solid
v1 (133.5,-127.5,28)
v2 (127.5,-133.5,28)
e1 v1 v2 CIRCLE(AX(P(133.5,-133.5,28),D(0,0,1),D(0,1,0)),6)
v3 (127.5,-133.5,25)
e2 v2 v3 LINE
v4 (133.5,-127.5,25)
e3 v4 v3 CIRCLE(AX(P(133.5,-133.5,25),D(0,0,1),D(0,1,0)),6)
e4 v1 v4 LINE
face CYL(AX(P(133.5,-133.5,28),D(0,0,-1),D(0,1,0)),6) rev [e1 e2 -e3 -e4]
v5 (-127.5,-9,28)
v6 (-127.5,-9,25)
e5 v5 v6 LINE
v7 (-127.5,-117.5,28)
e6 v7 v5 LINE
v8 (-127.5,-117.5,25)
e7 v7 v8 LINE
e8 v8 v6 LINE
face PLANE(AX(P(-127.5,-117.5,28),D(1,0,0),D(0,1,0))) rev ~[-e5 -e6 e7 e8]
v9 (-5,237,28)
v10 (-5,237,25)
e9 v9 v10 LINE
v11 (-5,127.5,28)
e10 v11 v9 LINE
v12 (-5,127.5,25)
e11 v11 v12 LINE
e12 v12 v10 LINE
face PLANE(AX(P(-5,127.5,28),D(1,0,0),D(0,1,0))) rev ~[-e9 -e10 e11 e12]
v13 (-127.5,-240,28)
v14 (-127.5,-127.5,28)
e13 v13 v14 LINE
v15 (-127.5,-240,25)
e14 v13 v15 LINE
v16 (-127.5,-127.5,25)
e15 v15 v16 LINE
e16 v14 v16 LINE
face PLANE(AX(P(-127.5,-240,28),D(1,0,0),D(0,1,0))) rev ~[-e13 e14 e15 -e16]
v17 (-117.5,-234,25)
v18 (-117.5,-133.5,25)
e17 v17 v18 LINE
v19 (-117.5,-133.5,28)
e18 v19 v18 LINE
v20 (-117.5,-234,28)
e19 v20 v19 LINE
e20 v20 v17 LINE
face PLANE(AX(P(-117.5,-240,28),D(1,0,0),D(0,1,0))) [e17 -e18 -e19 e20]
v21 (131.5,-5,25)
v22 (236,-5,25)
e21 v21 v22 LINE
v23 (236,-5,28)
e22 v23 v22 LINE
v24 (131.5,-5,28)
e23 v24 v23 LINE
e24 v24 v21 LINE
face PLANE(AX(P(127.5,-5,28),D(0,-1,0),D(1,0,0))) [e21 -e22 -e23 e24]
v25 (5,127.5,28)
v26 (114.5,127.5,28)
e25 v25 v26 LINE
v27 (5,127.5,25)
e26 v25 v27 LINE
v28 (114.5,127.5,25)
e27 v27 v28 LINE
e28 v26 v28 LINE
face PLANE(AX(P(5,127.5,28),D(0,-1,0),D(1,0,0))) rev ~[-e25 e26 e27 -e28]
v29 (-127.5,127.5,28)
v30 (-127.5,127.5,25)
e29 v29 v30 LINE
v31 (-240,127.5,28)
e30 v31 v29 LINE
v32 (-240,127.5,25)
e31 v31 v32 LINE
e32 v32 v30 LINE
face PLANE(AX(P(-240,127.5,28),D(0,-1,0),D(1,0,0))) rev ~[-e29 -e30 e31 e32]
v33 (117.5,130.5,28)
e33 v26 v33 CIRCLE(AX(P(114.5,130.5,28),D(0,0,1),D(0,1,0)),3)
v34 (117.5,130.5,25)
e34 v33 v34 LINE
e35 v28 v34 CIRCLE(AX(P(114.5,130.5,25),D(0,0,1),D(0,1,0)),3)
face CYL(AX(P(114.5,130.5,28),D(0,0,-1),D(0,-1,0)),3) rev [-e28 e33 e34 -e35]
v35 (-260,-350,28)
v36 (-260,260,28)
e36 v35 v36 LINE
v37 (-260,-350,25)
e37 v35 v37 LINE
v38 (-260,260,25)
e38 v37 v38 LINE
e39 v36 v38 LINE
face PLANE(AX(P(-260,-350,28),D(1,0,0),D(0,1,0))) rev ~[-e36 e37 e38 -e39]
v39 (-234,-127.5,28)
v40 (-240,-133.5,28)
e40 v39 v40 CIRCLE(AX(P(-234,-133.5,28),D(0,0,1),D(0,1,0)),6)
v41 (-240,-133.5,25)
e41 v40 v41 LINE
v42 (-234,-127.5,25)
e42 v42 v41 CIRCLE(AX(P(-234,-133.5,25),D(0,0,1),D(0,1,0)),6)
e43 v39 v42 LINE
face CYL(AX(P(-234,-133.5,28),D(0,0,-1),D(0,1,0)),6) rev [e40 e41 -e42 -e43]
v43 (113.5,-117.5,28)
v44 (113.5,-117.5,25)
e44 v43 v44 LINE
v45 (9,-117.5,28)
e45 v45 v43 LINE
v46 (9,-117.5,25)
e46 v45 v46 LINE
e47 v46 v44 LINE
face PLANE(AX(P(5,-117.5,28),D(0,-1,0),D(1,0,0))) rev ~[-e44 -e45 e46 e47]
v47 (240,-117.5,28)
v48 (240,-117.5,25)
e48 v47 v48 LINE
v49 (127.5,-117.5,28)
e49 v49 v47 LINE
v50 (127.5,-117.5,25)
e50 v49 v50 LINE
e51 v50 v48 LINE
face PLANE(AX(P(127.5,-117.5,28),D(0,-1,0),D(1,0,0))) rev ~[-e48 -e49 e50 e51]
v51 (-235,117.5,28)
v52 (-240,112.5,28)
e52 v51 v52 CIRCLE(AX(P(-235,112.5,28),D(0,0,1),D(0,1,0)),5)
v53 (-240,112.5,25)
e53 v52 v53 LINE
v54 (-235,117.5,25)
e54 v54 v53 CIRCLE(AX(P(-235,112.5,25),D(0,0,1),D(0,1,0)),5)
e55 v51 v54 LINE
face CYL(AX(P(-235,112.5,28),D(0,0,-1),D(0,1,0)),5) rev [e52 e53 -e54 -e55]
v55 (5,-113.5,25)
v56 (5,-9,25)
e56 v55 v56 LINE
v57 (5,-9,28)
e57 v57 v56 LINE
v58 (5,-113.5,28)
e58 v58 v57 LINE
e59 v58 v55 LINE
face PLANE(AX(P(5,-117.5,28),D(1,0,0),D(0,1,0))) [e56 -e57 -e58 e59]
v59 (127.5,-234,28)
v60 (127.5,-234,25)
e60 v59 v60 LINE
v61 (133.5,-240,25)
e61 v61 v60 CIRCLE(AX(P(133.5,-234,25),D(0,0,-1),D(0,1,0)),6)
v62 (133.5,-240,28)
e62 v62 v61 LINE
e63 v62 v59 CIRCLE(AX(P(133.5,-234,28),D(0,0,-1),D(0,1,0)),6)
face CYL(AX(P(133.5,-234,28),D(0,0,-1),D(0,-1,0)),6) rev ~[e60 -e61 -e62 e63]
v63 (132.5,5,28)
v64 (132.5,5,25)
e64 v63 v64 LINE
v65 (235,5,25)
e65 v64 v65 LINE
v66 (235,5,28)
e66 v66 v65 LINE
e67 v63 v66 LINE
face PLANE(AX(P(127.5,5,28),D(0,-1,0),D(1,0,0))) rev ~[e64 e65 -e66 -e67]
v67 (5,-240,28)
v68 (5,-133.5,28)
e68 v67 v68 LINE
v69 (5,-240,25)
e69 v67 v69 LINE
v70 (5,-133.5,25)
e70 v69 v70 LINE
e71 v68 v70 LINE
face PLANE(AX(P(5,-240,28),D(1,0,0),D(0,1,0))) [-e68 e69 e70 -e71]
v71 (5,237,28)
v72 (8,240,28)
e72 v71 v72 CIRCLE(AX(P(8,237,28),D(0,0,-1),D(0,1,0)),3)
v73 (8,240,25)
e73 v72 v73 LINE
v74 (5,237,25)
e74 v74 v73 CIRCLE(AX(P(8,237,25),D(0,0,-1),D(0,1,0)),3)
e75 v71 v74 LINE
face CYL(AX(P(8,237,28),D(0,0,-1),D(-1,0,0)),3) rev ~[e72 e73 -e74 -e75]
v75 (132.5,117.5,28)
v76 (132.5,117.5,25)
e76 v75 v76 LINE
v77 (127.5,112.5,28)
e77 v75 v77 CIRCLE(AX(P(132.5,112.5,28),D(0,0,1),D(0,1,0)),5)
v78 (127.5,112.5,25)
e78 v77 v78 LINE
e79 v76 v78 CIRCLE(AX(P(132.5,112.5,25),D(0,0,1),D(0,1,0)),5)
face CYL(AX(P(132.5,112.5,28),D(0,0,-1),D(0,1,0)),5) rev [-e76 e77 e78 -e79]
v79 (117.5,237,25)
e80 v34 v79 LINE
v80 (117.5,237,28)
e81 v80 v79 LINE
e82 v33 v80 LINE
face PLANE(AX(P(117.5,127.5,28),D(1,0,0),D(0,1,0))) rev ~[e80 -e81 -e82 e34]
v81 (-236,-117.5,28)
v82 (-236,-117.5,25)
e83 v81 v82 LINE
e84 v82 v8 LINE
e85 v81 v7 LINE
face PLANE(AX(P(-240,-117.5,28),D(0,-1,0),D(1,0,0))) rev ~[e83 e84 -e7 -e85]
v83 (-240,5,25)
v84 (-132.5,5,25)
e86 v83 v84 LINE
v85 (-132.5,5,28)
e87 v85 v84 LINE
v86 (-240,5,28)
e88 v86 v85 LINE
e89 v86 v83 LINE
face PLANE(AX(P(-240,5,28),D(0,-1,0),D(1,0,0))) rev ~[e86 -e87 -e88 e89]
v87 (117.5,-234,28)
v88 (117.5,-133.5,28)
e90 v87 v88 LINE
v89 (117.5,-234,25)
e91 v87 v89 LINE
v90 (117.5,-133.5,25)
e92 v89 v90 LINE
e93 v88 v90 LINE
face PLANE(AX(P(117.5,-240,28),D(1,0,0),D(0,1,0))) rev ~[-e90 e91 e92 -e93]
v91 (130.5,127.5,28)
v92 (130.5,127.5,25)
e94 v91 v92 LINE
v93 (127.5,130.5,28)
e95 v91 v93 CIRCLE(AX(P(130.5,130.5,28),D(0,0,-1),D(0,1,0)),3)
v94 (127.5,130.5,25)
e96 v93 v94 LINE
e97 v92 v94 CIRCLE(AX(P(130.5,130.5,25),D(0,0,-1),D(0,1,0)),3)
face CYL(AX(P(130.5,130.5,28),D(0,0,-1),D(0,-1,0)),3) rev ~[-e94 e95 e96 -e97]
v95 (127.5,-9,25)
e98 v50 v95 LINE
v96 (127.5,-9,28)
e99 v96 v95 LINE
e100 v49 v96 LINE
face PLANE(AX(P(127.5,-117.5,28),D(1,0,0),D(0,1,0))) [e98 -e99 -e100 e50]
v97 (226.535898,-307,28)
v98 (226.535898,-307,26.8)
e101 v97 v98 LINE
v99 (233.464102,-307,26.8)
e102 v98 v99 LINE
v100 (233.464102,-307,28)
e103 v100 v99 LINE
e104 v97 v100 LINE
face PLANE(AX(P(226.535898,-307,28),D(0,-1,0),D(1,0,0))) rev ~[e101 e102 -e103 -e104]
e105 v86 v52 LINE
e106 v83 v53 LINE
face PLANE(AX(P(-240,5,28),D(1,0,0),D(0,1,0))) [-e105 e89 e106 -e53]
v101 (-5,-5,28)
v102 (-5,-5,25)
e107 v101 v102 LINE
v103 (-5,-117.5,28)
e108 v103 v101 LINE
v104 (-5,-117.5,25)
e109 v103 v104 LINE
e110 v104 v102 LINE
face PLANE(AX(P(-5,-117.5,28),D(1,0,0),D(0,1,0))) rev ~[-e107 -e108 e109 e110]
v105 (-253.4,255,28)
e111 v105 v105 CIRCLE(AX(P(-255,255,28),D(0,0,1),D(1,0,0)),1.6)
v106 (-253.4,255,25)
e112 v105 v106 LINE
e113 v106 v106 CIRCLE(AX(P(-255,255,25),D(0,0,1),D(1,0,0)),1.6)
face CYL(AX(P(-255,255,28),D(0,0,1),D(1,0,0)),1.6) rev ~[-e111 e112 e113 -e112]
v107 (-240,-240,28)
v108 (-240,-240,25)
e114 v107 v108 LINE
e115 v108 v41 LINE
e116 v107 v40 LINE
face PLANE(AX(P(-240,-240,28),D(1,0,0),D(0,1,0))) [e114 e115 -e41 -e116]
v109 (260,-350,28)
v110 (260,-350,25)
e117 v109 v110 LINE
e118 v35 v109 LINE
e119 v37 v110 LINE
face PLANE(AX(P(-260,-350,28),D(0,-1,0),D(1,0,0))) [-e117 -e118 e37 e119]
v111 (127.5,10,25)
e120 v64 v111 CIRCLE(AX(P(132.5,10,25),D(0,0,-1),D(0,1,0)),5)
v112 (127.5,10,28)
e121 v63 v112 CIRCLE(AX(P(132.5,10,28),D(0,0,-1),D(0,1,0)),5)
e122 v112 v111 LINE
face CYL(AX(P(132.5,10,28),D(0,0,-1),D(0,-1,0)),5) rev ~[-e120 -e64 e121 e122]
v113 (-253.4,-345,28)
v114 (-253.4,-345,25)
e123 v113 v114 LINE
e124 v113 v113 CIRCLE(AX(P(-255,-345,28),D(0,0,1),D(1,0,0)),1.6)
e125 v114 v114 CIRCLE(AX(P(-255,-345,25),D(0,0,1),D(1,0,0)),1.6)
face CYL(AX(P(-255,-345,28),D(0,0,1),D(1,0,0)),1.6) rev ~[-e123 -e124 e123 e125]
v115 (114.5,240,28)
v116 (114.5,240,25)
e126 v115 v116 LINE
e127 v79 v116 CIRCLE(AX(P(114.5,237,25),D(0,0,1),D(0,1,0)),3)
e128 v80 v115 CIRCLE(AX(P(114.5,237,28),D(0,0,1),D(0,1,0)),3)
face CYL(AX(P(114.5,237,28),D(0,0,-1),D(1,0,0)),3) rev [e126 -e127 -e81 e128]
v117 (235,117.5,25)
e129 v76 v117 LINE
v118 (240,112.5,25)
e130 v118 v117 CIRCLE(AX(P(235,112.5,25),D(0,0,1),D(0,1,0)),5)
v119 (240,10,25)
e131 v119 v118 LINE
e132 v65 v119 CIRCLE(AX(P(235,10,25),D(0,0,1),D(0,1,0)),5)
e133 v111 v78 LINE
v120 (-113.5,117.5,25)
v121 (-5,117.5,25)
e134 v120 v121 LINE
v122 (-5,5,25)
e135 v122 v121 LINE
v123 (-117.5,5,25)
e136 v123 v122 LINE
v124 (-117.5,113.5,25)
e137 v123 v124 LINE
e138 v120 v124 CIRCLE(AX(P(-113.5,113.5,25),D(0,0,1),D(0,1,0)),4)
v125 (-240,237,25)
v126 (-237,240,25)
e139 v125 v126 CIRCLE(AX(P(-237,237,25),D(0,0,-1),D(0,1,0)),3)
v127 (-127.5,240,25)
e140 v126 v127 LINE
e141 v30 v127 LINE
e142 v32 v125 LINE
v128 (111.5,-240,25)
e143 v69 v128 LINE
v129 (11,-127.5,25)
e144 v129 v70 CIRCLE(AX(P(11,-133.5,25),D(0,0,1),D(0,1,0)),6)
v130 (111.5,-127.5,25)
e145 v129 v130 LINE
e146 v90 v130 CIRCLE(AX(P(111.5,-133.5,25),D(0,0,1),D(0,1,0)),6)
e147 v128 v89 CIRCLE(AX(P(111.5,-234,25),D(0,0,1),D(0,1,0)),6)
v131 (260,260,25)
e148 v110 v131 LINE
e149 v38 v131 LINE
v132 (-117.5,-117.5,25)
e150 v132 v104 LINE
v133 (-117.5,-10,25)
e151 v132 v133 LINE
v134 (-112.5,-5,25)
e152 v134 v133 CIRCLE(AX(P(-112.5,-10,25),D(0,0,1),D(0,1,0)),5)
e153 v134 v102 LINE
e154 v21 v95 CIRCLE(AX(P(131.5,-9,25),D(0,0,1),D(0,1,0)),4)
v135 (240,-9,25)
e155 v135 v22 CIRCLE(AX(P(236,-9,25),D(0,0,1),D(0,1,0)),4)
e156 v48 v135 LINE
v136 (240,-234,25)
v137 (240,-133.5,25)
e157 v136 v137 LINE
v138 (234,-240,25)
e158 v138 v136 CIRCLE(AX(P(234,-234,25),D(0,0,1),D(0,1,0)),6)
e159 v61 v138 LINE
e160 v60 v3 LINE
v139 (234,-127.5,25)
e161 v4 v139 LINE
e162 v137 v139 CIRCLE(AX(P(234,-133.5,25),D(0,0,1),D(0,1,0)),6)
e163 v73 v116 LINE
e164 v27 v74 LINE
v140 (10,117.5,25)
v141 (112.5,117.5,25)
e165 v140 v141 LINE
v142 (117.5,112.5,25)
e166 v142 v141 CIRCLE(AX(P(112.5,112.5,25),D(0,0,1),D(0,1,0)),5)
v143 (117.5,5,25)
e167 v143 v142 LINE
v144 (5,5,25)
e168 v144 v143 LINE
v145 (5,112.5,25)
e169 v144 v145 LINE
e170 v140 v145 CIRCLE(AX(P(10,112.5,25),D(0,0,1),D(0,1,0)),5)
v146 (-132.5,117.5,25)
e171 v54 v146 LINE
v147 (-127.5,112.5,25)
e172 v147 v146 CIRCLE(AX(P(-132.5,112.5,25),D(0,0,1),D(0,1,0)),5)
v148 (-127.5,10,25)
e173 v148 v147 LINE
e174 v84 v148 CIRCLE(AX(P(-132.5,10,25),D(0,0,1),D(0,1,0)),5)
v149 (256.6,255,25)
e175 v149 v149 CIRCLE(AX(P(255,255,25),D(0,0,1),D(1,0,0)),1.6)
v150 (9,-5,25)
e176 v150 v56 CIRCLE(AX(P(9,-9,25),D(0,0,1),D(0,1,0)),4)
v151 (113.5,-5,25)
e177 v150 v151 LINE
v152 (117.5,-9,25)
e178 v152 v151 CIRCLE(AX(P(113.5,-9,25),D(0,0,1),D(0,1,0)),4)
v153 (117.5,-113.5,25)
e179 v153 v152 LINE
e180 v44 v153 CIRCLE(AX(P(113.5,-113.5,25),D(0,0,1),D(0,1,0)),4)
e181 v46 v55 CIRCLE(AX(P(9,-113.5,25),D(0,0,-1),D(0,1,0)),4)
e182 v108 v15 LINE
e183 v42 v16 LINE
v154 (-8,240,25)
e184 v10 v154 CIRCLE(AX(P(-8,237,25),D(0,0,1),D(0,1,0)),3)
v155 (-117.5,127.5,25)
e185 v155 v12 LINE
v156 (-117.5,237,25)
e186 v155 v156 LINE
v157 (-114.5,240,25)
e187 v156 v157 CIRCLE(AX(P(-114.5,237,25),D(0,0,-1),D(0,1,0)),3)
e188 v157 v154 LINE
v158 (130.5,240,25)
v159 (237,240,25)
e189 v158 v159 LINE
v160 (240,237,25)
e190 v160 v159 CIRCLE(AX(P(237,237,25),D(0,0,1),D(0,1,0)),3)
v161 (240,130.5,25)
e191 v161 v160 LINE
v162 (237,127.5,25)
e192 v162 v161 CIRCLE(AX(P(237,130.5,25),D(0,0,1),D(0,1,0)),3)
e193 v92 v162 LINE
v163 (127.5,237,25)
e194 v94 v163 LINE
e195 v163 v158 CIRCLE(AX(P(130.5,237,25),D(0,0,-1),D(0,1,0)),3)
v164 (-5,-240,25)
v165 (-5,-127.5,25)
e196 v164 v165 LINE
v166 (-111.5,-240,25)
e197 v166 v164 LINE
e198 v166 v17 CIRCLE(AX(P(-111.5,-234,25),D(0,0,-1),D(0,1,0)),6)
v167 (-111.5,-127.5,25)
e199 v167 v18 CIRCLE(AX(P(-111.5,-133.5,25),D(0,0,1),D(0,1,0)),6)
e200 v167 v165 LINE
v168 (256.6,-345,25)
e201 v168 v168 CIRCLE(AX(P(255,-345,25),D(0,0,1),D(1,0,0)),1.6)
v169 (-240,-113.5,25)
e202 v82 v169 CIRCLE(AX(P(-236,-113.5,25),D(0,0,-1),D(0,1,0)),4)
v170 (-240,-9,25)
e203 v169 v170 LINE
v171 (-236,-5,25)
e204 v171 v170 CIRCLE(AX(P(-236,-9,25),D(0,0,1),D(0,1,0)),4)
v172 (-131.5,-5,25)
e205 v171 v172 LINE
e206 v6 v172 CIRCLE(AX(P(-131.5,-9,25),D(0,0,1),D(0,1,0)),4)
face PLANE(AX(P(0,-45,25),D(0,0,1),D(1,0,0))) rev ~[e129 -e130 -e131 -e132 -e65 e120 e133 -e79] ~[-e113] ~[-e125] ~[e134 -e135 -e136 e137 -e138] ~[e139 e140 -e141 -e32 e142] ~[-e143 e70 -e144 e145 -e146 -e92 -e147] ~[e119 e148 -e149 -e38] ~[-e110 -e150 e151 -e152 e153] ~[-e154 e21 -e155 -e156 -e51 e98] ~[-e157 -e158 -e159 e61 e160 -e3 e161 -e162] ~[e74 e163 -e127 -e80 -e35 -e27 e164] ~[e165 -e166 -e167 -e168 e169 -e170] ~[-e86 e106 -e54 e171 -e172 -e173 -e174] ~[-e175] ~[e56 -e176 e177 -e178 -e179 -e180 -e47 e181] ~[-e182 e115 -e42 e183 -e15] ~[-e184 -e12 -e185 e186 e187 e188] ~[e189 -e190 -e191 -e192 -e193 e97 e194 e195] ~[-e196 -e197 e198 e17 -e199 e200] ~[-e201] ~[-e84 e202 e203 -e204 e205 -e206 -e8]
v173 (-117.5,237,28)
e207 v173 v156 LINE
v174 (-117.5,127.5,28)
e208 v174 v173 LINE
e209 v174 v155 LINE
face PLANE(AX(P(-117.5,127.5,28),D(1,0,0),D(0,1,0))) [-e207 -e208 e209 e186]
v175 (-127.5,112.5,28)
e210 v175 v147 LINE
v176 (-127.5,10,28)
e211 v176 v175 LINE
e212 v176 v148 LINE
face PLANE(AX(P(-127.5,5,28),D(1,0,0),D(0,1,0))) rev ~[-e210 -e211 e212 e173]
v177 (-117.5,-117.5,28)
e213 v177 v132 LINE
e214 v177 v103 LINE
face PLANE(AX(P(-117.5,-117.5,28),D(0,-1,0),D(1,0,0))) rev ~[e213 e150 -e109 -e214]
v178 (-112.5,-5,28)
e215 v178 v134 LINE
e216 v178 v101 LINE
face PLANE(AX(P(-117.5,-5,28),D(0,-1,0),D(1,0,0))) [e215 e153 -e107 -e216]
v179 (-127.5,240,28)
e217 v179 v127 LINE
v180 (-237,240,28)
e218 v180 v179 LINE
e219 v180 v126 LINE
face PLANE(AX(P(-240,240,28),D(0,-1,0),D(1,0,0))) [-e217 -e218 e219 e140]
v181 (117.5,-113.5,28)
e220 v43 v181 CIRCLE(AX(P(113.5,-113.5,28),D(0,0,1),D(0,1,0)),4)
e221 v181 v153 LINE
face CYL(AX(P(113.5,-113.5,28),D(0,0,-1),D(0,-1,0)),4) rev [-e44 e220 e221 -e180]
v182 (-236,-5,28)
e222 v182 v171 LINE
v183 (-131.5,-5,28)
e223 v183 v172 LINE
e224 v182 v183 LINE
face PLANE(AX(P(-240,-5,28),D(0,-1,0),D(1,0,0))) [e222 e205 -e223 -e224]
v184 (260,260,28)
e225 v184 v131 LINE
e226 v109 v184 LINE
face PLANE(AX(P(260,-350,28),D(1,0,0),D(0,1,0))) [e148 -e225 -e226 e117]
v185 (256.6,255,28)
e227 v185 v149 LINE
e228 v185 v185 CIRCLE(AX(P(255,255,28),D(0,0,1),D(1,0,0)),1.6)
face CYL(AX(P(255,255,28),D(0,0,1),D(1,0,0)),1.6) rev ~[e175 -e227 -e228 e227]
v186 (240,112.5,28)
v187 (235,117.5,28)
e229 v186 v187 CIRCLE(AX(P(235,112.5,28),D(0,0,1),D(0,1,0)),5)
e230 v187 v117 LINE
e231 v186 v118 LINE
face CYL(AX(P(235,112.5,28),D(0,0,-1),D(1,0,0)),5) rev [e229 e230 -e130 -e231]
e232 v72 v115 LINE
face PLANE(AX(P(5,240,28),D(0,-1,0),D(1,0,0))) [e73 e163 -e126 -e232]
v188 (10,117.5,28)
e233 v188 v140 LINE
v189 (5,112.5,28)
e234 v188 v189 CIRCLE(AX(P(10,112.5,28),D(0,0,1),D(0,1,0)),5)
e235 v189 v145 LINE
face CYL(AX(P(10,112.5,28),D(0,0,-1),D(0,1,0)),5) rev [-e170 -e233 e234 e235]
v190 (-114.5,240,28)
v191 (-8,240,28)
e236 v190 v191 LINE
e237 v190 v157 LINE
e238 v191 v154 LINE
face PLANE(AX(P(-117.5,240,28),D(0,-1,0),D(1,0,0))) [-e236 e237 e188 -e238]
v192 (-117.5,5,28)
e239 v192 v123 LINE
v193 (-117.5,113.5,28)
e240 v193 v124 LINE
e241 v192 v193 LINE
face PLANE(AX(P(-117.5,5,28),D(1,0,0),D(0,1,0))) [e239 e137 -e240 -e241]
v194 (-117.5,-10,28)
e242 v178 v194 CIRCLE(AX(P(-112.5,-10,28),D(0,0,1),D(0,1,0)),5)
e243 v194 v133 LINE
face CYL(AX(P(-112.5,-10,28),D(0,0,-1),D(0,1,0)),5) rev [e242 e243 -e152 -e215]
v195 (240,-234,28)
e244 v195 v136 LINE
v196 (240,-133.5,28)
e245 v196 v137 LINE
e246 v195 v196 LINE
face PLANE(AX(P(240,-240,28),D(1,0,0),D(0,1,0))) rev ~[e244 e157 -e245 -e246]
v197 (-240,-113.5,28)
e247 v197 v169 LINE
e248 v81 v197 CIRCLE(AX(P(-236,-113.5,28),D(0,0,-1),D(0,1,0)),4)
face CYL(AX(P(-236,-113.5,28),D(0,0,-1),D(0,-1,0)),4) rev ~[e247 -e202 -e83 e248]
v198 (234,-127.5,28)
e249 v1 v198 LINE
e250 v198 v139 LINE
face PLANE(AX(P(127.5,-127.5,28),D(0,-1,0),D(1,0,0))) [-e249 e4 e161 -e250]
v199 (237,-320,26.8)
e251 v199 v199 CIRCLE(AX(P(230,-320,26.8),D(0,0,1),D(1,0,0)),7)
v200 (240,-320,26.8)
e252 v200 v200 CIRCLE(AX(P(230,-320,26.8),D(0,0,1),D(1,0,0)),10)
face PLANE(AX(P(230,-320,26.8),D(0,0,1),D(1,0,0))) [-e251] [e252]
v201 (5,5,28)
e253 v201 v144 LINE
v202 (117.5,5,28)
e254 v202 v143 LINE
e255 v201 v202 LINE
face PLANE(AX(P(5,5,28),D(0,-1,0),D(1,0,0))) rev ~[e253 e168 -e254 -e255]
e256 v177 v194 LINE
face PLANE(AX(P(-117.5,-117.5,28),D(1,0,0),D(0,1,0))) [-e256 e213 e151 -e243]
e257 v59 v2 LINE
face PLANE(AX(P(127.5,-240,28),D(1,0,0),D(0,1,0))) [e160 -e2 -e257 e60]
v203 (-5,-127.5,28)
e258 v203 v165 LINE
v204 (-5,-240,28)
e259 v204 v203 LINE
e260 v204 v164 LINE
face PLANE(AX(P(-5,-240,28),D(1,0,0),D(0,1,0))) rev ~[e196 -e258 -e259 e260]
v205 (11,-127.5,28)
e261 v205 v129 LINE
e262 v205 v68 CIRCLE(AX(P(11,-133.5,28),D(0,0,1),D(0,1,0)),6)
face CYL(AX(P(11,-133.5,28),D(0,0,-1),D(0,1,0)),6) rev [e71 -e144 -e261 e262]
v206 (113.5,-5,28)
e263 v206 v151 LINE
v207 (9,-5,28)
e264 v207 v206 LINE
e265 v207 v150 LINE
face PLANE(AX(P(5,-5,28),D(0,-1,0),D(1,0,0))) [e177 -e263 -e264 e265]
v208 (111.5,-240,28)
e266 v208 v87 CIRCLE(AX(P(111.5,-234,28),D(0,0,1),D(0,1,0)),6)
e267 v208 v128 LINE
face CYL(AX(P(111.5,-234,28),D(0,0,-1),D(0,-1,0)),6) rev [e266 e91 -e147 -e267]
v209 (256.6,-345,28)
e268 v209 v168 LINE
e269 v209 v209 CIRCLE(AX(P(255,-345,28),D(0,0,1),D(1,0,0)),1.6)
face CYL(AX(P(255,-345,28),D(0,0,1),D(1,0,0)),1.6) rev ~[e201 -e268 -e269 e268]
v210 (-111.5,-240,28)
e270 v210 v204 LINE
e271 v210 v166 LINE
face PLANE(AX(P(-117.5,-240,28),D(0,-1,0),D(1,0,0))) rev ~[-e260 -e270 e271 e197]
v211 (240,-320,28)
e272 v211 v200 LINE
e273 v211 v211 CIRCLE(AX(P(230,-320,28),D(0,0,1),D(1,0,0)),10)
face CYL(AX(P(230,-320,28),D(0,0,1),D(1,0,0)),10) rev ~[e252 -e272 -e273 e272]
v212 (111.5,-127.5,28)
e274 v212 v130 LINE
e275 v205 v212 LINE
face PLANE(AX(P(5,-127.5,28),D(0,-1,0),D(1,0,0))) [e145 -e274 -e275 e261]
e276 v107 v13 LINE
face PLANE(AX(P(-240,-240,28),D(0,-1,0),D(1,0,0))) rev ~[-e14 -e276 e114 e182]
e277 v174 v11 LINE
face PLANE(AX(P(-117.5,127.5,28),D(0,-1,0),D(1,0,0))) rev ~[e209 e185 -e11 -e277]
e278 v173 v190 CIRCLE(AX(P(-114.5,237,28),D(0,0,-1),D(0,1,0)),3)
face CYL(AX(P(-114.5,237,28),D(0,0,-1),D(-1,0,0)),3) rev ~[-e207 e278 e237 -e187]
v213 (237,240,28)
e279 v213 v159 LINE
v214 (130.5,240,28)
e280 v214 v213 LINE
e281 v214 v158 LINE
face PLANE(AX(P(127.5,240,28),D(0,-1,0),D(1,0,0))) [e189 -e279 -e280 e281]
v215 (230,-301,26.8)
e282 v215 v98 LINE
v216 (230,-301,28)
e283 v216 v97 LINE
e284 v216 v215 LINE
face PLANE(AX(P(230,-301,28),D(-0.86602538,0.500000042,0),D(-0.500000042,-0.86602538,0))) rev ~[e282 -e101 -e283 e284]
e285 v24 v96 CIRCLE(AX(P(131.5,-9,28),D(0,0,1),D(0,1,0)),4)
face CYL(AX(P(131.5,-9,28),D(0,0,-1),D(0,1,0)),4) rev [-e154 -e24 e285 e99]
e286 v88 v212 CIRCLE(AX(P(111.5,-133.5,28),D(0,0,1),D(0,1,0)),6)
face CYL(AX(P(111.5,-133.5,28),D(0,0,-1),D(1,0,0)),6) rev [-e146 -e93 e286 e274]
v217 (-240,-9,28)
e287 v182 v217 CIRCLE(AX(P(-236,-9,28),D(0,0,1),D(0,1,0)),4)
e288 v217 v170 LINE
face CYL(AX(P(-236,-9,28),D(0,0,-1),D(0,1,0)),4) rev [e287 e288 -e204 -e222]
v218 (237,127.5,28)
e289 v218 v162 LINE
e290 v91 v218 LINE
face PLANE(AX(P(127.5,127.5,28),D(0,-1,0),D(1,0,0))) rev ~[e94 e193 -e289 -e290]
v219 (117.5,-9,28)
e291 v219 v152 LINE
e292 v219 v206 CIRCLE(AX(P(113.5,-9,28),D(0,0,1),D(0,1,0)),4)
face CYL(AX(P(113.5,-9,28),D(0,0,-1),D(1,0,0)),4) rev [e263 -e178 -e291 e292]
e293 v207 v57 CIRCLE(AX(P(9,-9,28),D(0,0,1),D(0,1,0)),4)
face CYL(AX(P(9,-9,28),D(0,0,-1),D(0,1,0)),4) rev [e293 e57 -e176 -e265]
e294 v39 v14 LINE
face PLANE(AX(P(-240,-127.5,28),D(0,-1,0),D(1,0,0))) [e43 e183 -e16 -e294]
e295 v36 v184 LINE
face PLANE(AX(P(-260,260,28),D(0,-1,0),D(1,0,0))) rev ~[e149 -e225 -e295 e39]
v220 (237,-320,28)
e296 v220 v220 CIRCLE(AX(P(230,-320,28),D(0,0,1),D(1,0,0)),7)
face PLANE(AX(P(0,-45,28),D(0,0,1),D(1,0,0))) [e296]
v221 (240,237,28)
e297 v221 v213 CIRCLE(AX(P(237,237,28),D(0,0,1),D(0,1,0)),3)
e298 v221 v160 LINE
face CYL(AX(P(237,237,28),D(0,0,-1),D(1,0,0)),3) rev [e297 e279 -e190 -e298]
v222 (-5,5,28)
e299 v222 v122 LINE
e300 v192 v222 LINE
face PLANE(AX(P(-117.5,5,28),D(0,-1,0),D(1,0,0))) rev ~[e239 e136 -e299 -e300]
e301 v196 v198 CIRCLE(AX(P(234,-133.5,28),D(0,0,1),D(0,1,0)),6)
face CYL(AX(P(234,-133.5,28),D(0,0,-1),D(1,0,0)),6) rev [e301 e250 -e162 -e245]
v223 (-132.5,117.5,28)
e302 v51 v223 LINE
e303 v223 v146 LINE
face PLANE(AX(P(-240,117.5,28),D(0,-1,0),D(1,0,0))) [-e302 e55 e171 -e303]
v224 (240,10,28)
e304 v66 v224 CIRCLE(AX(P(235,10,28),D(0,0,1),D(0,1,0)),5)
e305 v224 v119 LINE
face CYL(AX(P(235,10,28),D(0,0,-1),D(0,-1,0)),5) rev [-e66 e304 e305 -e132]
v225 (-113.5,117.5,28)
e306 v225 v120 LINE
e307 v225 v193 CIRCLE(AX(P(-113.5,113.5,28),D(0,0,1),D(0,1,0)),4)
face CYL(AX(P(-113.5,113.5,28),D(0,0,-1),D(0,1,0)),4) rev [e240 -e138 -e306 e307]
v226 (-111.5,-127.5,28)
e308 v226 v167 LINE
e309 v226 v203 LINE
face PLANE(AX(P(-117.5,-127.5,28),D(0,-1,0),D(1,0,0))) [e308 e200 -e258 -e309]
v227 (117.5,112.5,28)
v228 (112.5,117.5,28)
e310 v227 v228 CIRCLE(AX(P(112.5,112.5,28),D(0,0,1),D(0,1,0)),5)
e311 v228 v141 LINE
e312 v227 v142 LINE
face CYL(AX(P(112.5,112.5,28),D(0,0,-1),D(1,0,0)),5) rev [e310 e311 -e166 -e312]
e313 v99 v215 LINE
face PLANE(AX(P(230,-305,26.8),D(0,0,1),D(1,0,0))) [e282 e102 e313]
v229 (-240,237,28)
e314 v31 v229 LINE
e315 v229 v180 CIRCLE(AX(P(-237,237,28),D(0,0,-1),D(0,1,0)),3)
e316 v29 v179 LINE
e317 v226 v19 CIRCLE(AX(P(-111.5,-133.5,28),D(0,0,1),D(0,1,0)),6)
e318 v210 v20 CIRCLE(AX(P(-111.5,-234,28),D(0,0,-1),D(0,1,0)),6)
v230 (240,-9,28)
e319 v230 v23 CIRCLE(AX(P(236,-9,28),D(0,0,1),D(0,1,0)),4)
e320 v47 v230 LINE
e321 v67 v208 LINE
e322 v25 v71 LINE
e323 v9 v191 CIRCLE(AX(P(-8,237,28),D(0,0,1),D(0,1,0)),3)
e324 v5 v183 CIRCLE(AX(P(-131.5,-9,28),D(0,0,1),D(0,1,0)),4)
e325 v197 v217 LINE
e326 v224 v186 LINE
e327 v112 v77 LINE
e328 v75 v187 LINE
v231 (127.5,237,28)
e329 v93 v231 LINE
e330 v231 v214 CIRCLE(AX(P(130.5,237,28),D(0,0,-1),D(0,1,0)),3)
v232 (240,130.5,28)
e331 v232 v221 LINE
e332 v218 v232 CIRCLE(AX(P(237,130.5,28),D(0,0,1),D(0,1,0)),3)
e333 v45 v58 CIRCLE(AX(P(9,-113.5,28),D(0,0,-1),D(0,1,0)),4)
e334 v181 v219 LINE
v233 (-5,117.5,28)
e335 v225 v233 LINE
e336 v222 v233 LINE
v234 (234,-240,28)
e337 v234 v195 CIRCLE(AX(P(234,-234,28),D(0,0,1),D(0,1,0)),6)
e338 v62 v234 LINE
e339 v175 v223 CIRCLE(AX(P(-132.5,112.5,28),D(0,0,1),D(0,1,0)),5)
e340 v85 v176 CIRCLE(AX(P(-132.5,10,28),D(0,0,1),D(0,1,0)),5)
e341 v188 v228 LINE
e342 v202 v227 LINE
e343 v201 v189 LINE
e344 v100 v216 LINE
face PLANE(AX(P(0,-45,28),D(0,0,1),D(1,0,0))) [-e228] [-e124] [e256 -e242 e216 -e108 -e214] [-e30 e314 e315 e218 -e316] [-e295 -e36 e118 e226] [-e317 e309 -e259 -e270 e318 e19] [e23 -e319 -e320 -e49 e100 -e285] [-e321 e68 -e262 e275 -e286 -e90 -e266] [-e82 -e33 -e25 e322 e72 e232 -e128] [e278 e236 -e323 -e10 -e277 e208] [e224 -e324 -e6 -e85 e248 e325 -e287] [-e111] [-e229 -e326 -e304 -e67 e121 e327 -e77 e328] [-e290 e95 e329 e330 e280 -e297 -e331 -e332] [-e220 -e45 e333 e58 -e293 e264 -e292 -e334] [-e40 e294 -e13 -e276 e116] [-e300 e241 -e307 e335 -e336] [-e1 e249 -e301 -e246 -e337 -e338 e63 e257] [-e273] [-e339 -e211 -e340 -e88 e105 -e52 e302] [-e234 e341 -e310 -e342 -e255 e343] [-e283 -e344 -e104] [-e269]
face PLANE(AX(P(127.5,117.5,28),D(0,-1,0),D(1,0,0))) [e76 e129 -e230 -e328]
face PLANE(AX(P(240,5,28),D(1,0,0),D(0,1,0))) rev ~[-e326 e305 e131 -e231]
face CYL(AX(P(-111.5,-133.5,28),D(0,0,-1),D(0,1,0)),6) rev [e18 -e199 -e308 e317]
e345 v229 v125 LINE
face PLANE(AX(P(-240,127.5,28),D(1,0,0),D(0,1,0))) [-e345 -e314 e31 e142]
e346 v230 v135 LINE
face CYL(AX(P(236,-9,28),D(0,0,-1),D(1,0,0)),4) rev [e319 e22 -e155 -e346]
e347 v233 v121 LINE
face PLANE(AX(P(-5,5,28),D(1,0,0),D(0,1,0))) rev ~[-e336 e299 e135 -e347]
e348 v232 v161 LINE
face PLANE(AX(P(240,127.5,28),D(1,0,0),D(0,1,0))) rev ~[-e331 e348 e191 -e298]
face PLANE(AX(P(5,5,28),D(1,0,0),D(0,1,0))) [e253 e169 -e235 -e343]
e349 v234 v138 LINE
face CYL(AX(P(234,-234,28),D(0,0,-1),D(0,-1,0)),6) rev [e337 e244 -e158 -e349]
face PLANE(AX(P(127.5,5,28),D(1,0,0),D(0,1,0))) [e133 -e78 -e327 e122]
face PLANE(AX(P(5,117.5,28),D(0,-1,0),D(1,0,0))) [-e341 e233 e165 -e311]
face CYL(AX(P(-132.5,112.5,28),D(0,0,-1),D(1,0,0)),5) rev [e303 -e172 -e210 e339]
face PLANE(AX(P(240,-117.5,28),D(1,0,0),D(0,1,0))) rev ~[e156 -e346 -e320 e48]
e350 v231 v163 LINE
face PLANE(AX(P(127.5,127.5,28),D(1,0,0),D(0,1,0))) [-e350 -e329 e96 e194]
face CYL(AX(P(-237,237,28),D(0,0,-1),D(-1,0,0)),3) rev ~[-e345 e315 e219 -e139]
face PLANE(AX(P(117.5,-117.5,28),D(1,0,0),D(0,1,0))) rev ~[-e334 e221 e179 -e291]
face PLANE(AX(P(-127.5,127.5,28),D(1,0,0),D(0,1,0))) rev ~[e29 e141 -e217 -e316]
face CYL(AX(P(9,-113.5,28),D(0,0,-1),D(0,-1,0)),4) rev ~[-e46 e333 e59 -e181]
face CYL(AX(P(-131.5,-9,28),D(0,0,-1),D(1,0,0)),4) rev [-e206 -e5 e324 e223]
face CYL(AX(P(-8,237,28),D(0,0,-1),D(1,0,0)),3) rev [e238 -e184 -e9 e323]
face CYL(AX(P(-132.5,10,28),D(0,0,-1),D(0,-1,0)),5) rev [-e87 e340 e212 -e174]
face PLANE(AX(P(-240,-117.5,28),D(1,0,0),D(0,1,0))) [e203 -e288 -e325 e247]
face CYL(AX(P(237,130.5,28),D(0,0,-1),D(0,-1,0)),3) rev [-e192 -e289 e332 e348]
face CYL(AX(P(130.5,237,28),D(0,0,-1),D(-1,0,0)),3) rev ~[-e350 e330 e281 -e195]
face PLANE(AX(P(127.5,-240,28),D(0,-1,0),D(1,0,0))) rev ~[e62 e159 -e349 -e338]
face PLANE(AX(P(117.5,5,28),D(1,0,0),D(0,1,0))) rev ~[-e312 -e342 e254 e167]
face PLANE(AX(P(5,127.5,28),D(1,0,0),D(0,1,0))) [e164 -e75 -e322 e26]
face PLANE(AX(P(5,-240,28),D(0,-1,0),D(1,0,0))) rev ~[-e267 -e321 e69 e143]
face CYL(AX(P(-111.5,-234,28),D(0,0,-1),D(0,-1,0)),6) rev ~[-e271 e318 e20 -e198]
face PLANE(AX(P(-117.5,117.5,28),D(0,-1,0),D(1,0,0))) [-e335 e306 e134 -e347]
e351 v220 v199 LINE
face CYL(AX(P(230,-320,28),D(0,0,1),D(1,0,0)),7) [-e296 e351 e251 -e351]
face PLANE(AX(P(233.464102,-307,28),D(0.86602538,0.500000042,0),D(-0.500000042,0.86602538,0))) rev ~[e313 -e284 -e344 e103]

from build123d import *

# Parameters (mm, degrees)
SKETCH_W            = 520
SKETCH_H            = 610
PAD_DEPTH           = 3
SKETCH001_W         = 112.5
SKETCH001_H         = 112.5
POCKET_DEPTH        = 3.001
LINEARPATTERN_COUNT = 4
LINEARPATTERN_PITCH = 122.5
FILLET_R            = 3
FILLET001_R         = 4
FILLET002_R         = 5
FILLET003_R         = 6
SKETCH002_R         = 1.6
POCKET001_DEPTH     = 5
SKETCH003_R         = 10
SKETCH003_R_2       = 7
POCKET002_DEPTH     = 1.2


with BuildPart() as part:
    # Sketch → Pad (new body)
    with BuildSketch(Plane.XY):
        with Locations((0, -45)):
            Rectangle(SKETCH_W, SKETCH_H)
    extrude(amount=-PAD_DEPTH)

    # Sketch001 (on Face5 of Pad) → Pocket (cut, through all)
    with BuildSketch(Plane.XY):
        with Locations((-183.75, 183.75)):
            Rectangle(SKETCH001_W, SKETCH001_H)
        with Locations((-61.25, 183.75)):
            Rectangle(SKETCH001_W, SKETCH001_H)
        with Locations((61.25, 183.75)):
            Rectangle(SKETCH001_W, SKETCH001_H)
        with Locations((183.75, 183.75)):
            Rectangle(SKETCH001_W, SKETCH001_H)
    pocket = extrude(amount=-POCKET_DEPTH, mode=Mode.SUBTRACT)

    # LinearPattern: Pocket ×4
    with Locations(*[(0, -i * LINEARPATTERN_PITCH, 0) for i in range(1, LINEARPATTERN_COUNT)]):
        add(pocket, mode=Mode.SUBTRACT)

    # Fillet
    fillet_edges = [part.edges().sort_by_distance(p)[0] for p in [
        (-240, 240, -1.5),
        (-117.5, 240, -1.5),
        (-5, 240, -1.5),
        (5, 240, -1.5),
        (117.5, 240, -1.5),
        (117.5, 127.5, -1.5),
        (240, 127.5, -1.5),
        (240, 240, -1.5),
        (127.5, 240, -1.5),
        (127.5, 127.5, -1.5),
    ]]
    fillet(fillet_edges, radius=FILLET_R)

    # Fillet001
    fillet001_edges = [part.edges().sort_by_distance(p)[0] for p in [
        (-117.5, 117.5, -1.5),
        (127.5, -5, -1.5),
        (240, -5, -1.5),
        (-240, -117.5, -1.5),
        (-240, -5, -1.5),
        (-127.5, -5, -1.5),
        (117.5, -5, -1.5),
        (117.5, -117.5, -1.5),
        (5, -117.5, -1.5),
        (5, -5, -1.5),
    ]]
    fillet(fillet001_edges, radius=FILLET001_R)

    # Fillet002
    fillet002_edges = [part.edges().sort_by_distance(p)[0] for p in [
        (-117.5, -5, -1.5),
        (5, 117.5, -1.5),
        (117.5, 117.5, -1.5),
        (-240, 117.5, -1.5),
        (-127.5, 117.5, -1.5),
        (-127.5, 5, -1.5),
        (240, 5, -1.5),
        (127.5, 5, -1.5),
        (127.5, 117.5, -1.5),
        (240, 117.5, -1.5),
    ]]
    fillet(fillet002_edges, radius=FILLET002_R)

    # Fillet003
    fillet003_edges = [part.edges().sort_by_distance(p)[0] for p in [
        (-240, -127.5, -1.5),
        (-117.5, -127.5, -1.5),
        (-117.5, -240, -1.5),
        (5, -127.5, -1.5),
        (117.5, -127.5, -1.5),
        (117.5, -240, -1.5),
        (127.5, -127.5, -1.5),
        (240, -127.5, -1.5),
        (240, -240, -1.5),
        (127.5, -240, -1.5),
    ]]
    fillet(fillet003_edges, radius=FILLET003_R)

    # Sketch002 (on Face1 of Fillet003) → Pocket001 (cut)
    with BuildSketch(Plane.XY):
        with Locations((-255, 255)):
            Circle(SKETCH002_R)
        with Locations((255, 255)):
            Circle(SKETCH002_R)
        with Locations((255, -345)):
            Circle(SKETCH002_R)
        with Locations((-255, -345)):
            Circle(SKETCH002_R)
    extrude(amount=-POCKET001_DEPTH, mode=Mode.SUBTRACT)

    # Sketch003 (on Face1 of Pocket001) → Pocket002 (cut)
    with BuildSketch(Plane.XY):
        with Locations((230, -320)):
            Circle(SKETCH003_R)
        with Locations((230, -320)):
            Circle(SKETCH003_R_2, mode=Mode.SUBTRACT)
        Polygon((230, -301), (226.535898, -307), (233.464102, -307), align=None)
    extrude(amount=-POCKET002_DEPTH, mode=Mode.SUBTRACT)


with BuildPart() as part_1:
    # Body placement: moved
    add(part.part.moved(Location((0, 0, 28))))


solid = part_1.part
